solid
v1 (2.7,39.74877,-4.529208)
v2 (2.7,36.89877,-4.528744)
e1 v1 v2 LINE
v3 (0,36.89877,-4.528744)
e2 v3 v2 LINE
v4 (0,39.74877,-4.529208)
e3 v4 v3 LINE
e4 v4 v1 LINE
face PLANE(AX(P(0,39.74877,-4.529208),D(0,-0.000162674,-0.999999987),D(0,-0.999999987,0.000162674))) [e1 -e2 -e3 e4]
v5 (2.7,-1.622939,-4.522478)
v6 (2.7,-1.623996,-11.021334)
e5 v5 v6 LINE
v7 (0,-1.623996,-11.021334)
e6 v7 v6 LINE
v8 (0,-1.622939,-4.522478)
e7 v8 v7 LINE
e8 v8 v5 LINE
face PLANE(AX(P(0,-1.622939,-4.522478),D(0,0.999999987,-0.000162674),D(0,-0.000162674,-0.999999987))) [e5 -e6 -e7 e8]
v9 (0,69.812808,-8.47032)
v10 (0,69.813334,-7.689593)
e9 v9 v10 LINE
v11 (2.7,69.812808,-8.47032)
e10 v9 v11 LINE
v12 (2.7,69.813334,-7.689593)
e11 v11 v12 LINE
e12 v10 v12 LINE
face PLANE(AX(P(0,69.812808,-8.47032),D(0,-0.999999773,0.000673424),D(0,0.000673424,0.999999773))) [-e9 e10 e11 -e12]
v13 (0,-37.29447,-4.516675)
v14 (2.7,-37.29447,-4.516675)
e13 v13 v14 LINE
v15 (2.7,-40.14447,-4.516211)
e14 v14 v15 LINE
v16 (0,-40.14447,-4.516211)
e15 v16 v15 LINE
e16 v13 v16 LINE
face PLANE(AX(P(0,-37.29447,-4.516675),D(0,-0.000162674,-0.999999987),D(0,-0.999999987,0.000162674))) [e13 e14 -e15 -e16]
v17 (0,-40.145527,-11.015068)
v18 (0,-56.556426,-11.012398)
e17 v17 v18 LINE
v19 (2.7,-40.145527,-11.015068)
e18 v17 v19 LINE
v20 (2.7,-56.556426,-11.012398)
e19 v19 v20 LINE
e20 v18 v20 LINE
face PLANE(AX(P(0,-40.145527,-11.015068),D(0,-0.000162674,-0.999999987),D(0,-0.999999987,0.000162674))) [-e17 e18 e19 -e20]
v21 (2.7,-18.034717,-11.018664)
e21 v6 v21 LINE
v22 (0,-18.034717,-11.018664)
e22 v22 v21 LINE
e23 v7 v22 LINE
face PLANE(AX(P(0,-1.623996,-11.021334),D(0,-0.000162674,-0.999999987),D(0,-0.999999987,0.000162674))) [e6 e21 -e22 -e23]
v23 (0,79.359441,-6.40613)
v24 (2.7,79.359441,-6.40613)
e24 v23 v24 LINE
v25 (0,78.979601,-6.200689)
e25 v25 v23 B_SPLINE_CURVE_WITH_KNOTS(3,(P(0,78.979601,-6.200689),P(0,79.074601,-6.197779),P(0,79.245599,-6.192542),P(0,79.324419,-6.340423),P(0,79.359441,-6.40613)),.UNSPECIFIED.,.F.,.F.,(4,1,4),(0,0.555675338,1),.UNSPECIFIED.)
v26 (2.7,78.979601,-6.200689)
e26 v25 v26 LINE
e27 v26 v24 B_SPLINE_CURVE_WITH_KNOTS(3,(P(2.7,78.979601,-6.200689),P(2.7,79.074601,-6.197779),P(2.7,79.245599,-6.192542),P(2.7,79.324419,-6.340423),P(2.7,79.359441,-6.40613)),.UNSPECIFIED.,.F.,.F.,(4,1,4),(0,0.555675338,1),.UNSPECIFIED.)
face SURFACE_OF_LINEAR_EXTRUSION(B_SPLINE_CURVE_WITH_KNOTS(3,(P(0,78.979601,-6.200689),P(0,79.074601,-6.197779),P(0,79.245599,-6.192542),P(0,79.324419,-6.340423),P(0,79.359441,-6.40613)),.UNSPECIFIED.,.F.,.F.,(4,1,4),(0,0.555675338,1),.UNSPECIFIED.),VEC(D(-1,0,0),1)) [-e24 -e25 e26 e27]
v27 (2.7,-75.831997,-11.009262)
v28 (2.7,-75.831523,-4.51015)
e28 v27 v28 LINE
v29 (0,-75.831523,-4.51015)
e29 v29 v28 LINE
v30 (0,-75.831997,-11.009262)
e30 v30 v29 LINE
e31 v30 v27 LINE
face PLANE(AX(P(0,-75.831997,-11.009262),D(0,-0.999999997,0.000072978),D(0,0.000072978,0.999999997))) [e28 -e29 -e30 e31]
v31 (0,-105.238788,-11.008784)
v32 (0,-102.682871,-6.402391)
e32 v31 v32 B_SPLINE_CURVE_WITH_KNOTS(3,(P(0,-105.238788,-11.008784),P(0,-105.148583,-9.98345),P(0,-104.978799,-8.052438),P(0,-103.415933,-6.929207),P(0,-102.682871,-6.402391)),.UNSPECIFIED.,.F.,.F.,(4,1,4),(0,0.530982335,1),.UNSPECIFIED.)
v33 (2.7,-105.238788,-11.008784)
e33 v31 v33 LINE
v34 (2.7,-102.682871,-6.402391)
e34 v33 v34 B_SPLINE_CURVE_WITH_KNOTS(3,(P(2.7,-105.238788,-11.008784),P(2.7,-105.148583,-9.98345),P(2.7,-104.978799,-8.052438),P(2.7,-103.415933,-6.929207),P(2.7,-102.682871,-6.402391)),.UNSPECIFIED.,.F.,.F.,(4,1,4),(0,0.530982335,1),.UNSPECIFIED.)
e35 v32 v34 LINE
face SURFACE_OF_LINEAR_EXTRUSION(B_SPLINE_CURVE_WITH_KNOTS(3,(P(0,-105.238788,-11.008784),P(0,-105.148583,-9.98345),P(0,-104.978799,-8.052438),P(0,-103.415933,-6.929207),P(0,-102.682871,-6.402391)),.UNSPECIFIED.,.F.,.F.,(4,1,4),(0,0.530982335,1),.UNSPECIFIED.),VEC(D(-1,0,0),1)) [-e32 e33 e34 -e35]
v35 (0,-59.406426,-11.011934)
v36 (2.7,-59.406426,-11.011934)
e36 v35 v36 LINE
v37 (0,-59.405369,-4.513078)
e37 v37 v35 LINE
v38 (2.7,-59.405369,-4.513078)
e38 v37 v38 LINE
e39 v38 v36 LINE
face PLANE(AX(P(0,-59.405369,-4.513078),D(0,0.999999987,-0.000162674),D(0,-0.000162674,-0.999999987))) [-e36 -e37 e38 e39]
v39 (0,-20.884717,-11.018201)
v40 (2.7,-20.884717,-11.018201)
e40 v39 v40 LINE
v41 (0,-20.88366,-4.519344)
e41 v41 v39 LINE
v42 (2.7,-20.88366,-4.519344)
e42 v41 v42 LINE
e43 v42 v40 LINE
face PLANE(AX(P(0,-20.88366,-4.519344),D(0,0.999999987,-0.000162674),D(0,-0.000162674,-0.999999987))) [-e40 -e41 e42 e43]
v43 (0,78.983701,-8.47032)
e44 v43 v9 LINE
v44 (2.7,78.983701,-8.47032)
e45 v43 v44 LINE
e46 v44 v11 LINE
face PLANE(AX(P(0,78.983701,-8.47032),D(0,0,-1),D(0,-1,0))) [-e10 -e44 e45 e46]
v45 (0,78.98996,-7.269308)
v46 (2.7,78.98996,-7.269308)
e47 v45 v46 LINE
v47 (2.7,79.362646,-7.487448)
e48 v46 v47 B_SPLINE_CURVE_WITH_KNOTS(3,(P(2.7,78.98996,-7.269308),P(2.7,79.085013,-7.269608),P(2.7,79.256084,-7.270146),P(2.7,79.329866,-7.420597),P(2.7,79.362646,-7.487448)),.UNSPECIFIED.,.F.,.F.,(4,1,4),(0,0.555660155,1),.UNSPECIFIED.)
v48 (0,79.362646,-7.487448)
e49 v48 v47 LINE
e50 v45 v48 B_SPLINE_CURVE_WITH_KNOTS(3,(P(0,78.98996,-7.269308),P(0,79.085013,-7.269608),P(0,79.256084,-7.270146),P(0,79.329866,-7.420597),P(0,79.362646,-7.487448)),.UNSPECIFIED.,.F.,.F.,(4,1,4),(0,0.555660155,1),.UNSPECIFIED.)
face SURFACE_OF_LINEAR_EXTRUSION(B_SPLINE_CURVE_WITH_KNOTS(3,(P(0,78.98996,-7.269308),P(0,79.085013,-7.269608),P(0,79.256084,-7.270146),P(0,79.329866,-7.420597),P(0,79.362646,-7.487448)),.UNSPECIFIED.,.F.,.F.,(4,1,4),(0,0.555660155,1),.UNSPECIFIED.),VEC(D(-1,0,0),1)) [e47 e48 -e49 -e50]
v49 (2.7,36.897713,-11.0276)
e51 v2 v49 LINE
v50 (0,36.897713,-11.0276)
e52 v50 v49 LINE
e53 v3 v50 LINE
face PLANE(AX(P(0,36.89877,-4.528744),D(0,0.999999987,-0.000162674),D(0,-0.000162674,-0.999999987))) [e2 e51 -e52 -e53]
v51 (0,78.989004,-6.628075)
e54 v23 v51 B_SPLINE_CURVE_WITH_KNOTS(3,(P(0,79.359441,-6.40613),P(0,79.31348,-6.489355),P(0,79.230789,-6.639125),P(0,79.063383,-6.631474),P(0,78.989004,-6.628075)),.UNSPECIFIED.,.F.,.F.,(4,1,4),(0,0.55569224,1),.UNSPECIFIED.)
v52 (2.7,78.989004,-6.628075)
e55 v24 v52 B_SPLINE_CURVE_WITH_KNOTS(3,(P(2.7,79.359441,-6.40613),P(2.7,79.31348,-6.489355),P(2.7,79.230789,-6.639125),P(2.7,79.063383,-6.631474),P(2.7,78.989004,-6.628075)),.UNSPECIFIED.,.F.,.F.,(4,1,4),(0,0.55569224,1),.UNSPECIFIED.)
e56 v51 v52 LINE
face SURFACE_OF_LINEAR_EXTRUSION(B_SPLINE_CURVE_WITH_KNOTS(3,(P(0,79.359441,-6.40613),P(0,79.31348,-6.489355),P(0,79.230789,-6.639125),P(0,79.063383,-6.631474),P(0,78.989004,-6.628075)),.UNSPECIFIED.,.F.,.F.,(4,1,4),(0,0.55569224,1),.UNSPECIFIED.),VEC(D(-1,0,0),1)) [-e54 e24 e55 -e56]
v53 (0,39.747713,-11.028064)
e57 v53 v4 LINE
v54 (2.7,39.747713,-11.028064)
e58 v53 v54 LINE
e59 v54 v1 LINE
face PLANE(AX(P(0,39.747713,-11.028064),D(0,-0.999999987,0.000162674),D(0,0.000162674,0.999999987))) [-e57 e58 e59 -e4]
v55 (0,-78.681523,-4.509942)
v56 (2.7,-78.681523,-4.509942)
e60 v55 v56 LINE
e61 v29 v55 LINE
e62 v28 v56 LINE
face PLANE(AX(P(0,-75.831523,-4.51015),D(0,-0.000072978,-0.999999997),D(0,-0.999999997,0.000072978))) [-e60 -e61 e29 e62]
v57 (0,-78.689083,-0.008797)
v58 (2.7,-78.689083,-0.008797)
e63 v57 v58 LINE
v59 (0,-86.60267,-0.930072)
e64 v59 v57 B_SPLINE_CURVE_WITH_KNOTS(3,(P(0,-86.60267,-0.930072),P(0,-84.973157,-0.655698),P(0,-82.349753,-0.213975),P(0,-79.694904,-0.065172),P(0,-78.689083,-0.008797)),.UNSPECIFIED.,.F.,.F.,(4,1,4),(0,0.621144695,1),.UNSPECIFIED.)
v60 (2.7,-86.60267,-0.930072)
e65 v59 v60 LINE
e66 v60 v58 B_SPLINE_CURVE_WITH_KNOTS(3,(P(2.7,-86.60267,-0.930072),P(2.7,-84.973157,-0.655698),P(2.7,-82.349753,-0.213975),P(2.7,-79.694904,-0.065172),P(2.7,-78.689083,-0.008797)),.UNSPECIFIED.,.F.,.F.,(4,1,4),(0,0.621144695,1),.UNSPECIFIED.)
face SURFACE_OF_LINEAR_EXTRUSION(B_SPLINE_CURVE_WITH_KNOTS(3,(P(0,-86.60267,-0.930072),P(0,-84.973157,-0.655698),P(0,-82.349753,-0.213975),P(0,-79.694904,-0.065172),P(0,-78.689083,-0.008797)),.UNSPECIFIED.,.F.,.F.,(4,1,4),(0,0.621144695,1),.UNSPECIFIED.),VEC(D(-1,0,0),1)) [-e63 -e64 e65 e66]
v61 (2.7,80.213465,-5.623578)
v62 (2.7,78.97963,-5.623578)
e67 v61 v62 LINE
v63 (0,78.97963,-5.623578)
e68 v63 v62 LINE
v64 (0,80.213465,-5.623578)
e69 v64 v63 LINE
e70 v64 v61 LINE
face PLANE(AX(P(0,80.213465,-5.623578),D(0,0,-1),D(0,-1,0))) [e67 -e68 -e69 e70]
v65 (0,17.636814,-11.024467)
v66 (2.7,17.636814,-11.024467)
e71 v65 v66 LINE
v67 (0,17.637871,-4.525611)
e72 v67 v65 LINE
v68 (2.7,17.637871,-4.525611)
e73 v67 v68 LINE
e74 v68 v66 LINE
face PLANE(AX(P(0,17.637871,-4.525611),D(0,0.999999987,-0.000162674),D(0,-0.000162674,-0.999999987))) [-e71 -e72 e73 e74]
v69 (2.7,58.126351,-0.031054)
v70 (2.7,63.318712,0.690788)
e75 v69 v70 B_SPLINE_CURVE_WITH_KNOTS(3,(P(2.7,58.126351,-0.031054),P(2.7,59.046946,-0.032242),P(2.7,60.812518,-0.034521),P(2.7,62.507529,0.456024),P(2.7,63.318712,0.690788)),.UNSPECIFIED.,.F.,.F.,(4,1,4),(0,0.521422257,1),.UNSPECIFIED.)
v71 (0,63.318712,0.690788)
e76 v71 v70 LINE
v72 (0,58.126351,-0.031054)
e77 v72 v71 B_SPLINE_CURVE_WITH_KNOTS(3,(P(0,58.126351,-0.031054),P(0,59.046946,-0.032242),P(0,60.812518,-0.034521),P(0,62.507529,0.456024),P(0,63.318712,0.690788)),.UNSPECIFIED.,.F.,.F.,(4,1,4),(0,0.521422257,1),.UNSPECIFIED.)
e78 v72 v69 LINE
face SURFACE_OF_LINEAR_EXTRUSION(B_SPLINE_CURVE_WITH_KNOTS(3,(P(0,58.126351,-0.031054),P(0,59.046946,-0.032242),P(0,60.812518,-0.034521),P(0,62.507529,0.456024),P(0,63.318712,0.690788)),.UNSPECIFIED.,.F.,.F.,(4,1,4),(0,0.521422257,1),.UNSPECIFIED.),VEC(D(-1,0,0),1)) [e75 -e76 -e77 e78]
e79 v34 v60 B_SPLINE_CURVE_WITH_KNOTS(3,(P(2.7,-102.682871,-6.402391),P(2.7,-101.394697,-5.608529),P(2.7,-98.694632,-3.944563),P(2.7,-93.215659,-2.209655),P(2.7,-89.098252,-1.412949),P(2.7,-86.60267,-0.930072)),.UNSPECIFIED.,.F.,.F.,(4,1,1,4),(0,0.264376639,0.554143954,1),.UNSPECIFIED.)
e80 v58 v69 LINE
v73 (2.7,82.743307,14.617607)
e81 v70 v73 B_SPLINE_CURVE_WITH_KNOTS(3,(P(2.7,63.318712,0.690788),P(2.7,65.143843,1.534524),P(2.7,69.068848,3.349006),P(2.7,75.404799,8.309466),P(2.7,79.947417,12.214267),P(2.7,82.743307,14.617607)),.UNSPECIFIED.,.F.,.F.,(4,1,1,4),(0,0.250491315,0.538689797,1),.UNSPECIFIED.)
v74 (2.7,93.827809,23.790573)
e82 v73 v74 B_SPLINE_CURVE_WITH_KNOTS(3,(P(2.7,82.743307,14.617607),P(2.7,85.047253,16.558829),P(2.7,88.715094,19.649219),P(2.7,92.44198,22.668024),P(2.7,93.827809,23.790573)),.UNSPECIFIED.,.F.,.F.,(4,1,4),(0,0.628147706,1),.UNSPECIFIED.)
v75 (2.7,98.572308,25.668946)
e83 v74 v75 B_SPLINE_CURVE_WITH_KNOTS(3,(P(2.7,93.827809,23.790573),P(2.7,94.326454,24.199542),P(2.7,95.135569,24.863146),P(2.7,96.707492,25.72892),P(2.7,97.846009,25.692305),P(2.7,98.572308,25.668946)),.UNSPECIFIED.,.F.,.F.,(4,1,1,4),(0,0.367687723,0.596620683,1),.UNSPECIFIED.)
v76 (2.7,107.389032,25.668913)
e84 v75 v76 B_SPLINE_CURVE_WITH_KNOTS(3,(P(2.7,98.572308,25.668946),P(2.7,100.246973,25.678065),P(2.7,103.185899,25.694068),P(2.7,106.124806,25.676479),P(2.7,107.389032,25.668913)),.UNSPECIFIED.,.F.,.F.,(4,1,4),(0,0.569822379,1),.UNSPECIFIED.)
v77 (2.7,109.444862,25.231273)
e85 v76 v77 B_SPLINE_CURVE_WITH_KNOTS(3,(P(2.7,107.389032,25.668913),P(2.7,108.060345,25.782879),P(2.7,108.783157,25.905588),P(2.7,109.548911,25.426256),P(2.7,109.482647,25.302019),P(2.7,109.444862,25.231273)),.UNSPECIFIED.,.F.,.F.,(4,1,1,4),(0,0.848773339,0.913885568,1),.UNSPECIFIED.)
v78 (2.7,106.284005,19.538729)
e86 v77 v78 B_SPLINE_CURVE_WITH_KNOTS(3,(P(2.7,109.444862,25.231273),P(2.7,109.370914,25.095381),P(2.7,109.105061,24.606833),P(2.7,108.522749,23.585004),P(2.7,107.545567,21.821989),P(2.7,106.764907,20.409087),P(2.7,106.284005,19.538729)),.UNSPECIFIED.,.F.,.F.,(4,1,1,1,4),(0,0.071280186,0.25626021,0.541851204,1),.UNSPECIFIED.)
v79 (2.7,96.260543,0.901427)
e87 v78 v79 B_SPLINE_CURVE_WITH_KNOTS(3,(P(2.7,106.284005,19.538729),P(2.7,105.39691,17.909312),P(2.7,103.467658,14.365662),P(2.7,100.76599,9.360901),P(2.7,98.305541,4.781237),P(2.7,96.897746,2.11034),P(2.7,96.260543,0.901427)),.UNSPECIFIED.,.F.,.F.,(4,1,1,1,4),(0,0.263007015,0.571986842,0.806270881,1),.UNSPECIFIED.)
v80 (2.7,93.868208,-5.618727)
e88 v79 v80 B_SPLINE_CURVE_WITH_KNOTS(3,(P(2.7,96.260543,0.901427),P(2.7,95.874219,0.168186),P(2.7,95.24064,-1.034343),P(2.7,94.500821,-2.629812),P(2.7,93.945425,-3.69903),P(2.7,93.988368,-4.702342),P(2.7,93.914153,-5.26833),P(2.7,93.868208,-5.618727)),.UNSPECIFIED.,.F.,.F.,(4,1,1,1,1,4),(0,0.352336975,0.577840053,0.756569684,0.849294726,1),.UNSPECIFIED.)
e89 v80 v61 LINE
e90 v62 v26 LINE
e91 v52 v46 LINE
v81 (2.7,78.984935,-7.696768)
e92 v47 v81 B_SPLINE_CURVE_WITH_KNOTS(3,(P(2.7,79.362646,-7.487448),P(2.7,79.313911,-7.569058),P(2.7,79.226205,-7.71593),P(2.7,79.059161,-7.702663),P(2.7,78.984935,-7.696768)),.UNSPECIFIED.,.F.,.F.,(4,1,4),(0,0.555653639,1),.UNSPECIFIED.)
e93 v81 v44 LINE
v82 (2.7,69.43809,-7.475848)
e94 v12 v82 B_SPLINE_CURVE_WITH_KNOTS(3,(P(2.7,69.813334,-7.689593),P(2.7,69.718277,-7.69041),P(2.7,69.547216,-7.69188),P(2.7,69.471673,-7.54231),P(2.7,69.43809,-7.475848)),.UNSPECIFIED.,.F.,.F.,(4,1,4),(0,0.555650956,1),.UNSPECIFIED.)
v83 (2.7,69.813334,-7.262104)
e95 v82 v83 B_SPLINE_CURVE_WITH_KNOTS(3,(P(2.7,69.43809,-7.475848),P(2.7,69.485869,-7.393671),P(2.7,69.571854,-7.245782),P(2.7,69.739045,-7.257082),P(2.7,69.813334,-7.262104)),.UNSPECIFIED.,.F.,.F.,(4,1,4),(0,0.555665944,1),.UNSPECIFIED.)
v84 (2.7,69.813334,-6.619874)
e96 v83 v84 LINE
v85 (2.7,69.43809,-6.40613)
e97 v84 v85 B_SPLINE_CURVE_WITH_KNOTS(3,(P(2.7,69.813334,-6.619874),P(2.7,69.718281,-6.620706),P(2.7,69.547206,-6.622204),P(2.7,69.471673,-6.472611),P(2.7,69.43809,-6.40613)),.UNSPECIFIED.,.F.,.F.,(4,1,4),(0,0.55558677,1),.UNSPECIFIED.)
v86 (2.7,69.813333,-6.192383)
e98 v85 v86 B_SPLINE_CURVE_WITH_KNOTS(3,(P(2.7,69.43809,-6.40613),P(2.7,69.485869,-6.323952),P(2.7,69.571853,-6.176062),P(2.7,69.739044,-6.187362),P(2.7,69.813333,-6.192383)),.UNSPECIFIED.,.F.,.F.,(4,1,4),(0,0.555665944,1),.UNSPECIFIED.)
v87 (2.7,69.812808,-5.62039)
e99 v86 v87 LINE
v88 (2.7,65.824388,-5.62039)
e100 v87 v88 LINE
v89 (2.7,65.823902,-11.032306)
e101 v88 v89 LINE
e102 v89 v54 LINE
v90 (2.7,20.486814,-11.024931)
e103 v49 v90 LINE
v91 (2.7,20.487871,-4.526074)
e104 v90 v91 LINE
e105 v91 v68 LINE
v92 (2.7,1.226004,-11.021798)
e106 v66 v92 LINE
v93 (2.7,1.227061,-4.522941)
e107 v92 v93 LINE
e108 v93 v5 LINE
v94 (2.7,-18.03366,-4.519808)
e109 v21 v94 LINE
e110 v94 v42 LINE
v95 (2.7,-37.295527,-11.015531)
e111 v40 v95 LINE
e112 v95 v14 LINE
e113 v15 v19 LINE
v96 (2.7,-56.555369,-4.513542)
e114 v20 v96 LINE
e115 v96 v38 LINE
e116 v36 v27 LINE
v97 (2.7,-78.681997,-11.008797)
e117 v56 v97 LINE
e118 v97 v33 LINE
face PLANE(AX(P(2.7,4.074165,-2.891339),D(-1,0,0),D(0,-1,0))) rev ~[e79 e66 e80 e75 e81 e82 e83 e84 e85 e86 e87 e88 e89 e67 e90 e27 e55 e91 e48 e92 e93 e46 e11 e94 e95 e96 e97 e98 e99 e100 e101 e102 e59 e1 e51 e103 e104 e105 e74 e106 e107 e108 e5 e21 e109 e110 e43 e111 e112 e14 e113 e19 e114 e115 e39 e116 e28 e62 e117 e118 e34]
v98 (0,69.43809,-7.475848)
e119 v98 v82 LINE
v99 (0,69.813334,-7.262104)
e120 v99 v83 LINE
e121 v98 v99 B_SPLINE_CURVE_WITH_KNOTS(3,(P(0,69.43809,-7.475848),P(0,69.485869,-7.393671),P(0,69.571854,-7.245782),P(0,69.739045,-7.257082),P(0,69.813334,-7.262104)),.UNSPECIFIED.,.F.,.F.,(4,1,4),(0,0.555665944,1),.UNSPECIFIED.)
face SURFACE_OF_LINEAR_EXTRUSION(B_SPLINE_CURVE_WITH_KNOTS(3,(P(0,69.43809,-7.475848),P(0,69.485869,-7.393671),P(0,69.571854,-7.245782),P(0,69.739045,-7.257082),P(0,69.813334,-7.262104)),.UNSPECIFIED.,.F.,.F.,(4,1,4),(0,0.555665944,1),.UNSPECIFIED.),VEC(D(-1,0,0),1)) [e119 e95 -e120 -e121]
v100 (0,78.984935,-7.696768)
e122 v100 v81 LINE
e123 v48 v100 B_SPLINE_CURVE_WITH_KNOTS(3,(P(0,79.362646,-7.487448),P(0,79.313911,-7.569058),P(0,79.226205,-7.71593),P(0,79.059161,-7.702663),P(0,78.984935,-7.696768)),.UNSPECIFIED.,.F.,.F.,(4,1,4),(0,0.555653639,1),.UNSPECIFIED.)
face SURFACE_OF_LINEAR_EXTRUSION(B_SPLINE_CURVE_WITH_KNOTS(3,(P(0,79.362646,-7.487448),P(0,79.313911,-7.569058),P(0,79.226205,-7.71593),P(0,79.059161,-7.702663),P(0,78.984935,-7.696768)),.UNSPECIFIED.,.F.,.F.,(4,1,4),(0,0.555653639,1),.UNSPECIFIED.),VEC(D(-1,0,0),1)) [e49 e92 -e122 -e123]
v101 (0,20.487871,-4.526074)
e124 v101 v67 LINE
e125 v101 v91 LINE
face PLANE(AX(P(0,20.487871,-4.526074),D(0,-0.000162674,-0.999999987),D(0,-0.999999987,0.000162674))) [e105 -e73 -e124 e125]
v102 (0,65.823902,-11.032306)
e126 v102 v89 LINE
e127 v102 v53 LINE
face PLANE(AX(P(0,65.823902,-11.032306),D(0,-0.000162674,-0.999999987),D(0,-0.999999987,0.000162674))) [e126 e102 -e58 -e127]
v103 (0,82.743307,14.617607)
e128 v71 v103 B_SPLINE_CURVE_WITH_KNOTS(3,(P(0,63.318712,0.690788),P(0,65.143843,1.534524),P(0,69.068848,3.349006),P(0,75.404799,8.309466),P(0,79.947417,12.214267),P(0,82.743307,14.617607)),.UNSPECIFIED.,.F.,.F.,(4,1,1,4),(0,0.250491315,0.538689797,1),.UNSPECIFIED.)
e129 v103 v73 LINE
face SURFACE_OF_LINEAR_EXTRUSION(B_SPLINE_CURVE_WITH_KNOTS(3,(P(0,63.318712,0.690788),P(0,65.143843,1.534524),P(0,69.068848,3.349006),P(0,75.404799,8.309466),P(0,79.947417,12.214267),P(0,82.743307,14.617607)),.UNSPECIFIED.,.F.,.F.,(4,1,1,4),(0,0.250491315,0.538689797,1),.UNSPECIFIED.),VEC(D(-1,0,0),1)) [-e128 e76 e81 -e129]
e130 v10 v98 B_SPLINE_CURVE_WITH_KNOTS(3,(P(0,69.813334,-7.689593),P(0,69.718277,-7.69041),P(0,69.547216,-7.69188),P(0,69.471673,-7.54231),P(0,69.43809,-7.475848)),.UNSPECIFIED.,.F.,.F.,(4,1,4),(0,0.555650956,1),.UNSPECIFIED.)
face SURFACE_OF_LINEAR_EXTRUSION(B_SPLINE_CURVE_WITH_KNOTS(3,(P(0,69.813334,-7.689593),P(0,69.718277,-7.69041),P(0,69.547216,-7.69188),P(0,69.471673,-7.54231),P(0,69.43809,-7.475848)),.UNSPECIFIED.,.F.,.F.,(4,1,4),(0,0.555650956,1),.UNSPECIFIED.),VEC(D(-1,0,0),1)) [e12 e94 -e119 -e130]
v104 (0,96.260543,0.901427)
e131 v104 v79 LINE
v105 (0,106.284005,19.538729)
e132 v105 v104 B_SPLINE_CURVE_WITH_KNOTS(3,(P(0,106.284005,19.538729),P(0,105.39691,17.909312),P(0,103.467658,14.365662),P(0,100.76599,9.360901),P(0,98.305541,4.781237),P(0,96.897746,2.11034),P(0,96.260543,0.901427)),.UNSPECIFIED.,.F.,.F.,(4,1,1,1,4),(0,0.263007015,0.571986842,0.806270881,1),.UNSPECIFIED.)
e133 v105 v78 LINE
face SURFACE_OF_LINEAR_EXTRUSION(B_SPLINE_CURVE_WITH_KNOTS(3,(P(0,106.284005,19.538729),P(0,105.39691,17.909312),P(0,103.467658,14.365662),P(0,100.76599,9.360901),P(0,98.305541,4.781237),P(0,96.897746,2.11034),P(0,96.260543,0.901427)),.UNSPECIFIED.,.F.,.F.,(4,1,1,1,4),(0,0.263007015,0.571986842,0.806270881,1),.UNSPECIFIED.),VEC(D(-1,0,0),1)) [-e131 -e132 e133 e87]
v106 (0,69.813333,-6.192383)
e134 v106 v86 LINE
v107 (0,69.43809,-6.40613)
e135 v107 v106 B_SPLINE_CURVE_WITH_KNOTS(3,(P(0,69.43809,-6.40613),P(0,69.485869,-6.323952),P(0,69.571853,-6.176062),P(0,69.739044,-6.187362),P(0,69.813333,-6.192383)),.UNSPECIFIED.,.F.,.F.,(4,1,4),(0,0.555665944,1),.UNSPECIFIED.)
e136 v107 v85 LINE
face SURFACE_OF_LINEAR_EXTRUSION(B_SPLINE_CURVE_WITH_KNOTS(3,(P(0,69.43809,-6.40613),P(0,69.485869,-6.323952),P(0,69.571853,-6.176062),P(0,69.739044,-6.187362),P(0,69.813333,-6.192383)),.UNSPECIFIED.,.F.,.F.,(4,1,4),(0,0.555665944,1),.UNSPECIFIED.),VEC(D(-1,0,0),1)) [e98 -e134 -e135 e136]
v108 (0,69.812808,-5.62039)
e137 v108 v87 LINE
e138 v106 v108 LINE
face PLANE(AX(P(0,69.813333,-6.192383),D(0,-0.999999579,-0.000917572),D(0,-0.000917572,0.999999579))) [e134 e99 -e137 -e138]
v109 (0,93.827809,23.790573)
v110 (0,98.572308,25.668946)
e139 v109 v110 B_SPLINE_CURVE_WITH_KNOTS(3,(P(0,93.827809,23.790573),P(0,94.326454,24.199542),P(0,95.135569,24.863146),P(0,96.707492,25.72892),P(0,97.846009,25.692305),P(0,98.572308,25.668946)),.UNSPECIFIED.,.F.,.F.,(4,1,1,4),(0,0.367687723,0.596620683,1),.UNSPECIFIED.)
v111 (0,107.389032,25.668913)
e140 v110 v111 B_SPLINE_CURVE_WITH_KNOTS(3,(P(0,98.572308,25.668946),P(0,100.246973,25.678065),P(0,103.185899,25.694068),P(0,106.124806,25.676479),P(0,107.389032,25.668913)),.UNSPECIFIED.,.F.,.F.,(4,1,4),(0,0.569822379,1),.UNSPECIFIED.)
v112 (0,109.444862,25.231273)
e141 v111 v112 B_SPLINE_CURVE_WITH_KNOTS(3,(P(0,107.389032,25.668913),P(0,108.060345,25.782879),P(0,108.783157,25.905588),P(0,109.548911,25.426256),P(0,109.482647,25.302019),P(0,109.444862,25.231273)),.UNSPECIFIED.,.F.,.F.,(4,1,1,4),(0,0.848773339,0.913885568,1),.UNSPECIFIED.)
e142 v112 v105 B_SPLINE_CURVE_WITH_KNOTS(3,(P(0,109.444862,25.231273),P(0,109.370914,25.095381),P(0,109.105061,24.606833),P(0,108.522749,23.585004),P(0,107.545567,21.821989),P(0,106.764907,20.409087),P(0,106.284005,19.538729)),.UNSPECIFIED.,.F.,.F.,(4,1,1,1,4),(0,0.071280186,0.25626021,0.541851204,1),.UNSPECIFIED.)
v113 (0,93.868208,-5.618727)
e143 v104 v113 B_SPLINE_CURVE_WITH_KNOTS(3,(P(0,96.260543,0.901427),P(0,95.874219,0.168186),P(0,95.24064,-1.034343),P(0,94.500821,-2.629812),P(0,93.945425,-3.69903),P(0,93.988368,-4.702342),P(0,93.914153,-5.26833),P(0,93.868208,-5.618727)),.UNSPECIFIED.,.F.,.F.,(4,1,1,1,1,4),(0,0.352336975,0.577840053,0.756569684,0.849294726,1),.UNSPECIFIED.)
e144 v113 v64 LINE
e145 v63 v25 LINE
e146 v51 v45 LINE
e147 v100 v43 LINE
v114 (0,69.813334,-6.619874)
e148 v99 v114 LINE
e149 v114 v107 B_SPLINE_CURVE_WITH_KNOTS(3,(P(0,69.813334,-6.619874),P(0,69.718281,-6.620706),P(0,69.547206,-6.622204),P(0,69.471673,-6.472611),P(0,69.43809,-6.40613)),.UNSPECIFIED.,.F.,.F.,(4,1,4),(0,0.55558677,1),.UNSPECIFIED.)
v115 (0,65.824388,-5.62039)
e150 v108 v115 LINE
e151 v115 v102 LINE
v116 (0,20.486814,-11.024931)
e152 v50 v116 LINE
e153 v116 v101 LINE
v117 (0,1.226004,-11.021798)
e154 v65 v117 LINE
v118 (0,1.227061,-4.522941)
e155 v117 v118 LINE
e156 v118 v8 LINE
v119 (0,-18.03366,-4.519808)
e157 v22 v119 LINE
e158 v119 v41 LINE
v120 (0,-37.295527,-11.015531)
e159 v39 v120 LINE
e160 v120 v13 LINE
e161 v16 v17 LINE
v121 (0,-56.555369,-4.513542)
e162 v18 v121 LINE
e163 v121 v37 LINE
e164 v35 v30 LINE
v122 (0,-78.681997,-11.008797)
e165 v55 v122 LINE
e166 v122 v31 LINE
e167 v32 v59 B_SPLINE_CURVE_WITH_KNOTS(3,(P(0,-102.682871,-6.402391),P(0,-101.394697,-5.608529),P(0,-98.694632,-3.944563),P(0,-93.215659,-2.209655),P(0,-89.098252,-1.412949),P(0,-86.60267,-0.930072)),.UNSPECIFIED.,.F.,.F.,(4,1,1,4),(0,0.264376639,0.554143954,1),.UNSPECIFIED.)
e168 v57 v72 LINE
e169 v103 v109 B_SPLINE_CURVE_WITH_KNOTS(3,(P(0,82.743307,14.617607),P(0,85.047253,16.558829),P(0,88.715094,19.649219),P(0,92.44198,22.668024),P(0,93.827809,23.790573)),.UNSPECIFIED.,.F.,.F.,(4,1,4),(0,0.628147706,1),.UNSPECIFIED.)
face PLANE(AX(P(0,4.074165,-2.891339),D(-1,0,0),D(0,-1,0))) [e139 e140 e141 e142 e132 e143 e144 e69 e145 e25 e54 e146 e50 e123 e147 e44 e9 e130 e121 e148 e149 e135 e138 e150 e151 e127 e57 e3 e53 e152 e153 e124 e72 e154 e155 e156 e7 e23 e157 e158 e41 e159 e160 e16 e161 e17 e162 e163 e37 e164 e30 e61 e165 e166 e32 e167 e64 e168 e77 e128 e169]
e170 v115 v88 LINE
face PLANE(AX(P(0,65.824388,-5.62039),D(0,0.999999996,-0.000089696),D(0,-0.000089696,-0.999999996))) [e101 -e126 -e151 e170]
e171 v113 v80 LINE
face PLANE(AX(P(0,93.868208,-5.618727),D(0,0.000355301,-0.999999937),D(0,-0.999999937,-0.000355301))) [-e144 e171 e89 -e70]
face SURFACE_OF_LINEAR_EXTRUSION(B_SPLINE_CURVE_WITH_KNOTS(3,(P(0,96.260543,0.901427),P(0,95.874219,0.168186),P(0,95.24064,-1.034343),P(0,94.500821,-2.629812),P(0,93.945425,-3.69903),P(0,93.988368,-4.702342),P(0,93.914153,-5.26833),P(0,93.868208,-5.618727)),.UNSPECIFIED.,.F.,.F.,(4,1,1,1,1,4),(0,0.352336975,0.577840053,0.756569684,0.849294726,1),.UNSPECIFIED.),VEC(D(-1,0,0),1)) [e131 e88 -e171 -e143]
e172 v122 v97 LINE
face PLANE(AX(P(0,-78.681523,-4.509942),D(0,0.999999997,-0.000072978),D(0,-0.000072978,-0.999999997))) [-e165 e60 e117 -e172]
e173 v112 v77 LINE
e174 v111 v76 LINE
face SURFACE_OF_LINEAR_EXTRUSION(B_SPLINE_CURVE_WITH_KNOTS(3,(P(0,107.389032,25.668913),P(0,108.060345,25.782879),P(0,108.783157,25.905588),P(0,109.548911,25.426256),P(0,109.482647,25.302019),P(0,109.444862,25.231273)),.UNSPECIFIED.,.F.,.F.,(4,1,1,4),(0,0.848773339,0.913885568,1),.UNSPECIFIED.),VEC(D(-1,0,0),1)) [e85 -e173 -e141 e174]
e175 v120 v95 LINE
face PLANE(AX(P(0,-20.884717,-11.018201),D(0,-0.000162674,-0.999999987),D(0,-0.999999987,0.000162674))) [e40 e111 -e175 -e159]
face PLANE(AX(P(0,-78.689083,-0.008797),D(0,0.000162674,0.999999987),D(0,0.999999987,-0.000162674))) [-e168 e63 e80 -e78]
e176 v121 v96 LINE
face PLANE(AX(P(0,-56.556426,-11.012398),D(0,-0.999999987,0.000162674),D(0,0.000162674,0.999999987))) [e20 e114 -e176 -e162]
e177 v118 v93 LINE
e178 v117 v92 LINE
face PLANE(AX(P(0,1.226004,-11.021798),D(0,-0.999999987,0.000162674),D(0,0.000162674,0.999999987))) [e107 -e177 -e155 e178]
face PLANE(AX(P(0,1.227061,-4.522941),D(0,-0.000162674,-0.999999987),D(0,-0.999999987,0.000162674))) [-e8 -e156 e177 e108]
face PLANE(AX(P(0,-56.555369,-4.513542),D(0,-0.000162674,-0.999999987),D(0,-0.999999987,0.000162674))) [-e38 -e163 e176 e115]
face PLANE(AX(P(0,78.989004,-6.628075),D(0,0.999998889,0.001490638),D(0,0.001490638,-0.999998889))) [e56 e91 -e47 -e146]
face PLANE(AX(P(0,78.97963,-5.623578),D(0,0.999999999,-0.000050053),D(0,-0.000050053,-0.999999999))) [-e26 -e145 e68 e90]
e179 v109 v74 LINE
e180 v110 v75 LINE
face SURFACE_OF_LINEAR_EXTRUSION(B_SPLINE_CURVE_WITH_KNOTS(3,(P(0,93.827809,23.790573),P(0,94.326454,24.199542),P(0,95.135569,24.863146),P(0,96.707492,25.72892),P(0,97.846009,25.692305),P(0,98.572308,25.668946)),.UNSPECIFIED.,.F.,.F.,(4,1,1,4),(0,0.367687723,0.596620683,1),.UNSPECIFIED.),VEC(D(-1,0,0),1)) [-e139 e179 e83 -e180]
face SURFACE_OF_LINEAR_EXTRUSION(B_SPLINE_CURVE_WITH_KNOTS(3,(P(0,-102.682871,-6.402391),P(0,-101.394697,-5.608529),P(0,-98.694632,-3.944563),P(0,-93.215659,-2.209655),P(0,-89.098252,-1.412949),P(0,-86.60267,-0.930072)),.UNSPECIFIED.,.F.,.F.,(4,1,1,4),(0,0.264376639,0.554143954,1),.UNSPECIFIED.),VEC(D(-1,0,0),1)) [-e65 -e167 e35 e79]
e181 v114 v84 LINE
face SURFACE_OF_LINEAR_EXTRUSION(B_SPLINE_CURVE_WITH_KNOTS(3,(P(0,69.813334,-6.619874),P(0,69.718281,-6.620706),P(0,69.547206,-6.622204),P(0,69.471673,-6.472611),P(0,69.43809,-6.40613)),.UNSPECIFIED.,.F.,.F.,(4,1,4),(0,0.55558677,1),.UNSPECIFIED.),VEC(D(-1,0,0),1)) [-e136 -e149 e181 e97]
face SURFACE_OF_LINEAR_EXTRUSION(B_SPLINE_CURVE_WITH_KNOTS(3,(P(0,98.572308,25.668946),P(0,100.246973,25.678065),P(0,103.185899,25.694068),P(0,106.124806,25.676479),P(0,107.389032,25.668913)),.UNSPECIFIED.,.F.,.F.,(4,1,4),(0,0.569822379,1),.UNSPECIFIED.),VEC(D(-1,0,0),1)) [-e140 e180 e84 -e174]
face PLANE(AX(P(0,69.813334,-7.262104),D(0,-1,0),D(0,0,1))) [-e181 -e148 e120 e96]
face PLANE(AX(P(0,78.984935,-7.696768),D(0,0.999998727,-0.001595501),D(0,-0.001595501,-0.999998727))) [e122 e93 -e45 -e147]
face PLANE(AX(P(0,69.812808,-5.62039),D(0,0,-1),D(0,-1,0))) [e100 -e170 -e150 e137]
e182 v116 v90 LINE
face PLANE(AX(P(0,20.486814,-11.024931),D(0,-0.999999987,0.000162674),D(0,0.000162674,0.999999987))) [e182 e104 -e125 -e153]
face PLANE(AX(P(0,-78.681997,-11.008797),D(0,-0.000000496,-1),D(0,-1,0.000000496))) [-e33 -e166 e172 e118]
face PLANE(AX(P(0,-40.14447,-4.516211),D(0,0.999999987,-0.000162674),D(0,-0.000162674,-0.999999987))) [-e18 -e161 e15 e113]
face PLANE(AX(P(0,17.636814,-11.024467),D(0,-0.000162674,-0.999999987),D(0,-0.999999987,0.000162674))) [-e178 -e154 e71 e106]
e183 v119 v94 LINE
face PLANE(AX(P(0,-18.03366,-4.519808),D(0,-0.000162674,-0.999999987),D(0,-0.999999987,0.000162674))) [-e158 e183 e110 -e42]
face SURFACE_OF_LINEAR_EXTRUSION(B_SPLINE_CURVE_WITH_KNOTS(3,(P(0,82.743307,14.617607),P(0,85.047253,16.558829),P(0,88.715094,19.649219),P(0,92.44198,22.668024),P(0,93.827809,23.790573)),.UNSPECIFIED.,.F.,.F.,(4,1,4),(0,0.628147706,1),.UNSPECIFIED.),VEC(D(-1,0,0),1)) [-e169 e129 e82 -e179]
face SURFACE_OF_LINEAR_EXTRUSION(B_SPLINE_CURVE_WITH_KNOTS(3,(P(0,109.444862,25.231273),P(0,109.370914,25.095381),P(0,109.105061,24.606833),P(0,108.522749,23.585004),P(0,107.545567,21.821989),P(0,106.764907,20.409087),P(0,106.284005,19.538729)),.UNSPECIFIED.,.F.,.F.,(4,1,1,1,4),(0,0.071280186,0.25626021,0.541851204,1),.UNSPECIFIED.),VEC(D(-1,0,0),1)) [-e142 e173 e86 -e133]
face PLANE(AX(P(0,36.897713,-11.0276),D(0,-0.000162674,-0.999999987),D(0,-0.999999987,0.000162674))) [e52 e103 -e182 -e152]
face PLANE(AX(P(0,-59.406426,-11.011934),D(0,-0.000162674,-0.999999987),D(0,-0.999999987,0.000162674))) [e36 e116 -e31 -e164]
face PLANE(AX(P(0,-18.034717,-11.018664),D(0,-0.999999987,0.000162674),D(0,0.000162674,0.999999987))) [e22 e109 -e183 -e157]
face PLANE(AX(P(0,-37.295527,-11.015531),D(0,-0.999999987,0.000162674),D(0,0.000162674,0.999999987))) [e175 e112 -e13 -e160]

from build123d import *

# Parameters (mm, degrees)
SALIENTE_EXTRUIR1_DEPTH = 2.7


with BuildPart() as part:
    # Croquis1 → Saliente-Extruir1 (new body)
    with BuildSketch(Plane.YZ):
        with BuildLine():
            Line((69.812808286, -8.470319532), (69.813334046, -7.689593095))
            add(Edge.make_bspline(
                [(69.813334046, -7.689593095), (69.718277432, -7.690410058), (69.547216021, -7.691880338), (69.471672568, -7.54230989), (69.43809002, -7.475848405)],
                knots=[0, 0, 0, 0, 0.555650956, 1, 1, 1, 1], degree=3))
            add(Edge.make_bspline(
                [(69.43809002, -7.475848405), (69.485868998, -7.393671243), (69.571854074, -7.245781736), (69.739045293, -7.257082431), (69.813334046, -7.262103715)],
                knots=[0, 0, 0, 0, 0.555665944, 1, 1, 1, 1], degree=3))
            Line((69.813334046, -7.262103715), (69.813334046, -6.619874205))
            add(Edge.make_bspline(
                [(69.813334046, -6.619874205), (69.718281004, -6.62070628), (69.547206259, -6.62220393), (69.471672921, -6.472610717), (69.43809002, -6.406129515)],
                knots=[0, 0, 0, 0, 0.55558677, 1, 1, 1, 1], degree=3))
            add(Edge.make_bspline(
                [(69.43809002, -6.406129515), (69.485868647, -6.323952148), (69.571853089, -6.176062273), (69.739044357, -6.187362253), (69.813333131, -6.192383218)],
                knots=[0, 0, 0, 0, 0.555665944, 1, 1, 1, 1], degree=3))
            Line((69.813333131, -6.192383218), (69.812808286, -5.620390327))
            Line((69.812808286, -5.620390327), (65.824387706, -5.620390327))
            Line((65.824387706, -5.620390327), (65.823902281, -11.032305972))
            Line((65.823902281, -11.032305972), (39.747713095, -11.02806406))
            Line((39.747713095, -11.02806406), (39.748770289, -4.529207726))
            Line((39.748770289, -4.529207726), (36.898770326, -4.528744106))
            Line((36.898770326, -4.528744106), (36.897713133, -11.02760044))
            Line((36.897713133, -11.02760044), (20.486813862, -11.024930817))
            Line((20.486813862, -11.024930817), (20.487871055, -4.526074483))
            Line((20.487871055, -4.526074483), (17.637871093, -4.525610863))
            Line((17.637871093, -4.525610863), (17.636813899, -11.024467197))
            Line((17.636813899, -11.024467197), (1.226003887, -11.021797589))
            Line((1.226003887, -11.021797589), (1.22706108, -4.522941255))
            Line((1.22706108, -4.522941255), (-1.622938882, -4.522477635))
            Line((-1.622938882, -4.522477635), (-1.623996075, -11.021333969))
            Line((-1.623996075, -11.021333969), (-18.034716829, -11.018664376))
            Line((-18.034716829, -11.018664376), (-18.033659636, -4.519808041))
            Line((-18.033659636, -4.519808041), (-20.883659598, -4.519344421))
            Line((-20.883659598, -4.519344421), (-20.884716791, -11.018200756))
            Line((-20.884716791, -11.018200756), (-37.295526804, -11.015531148))
            Line((-37.295526804, -11.015531148), (-37.29446961, -4.516674813))
            Line((-37.29446961, -4.516674813), (-40.144469572, -4.516211193))
            Line((-40.144469572, -4.516211193), (-40.145526766, -11.015067527))
            Line((-40.145526766, -11.015067527), (-56.556426037, -11.012397905))
            Line((-56.556426037, -11.012397905), (-56.555368844, -4.51354157))
            Line((-56.555368844, -4.51354157), (-59.405368806, -4.51307795))
            Line((-59.405368806, -4.51307795), (-59.406426, -11.011934285))
            Line((-59.406426, -11.011934285), (-75.831996924, -11.009262276))
            Line((-75.831996924, -11.009262276), (-75.83152263, -4.510149615))
            Line((-75.83152263, -4.510149615), (-78.681522622, -4.509941627))
            Line((-78.681522622, -4.509941627), (-78.681996897, -11.008797361))
            Line((-78.681996897, -11.008797361), (-105.238788458, -11.008784177))
            add(Edge.make_bspline(
                [(-105.238788458, -11.008784177), (-105.14858271, -9.983450496), (-104.978798579, -8.052437708), (-103.415932971, -6.929206638), (-102.682870886, -6.402391424)],
                knots=[0, 0, 0, 0, 0.530982335, 1, 1, 1, 1], degree=3))
            add(Edge.make_bspline(
                [(-102.682870886, -6.402391424), (-101.394696585, -5.608529448), (-98.694632001, -3.944563162), (-93.215658737, -2.20965482), (-89.098251838, -1.412949472), (-86.602670214, -0.930072072)],
                knots=[0, 0, 0, 0, 0.264376639, 0.554143954, 1, 1, 1, 1], degree=3))
            add(Edge.make_bspline(
                [(-86.602670214, -0.930072072), (-84.973156703, -0.655698226), (-82.349752651, -0.213975311), (-79.694903541, -0.065172296), (-78.68908292, -0.008797357)],
                knots=[0, 0, 0, 0, 0.621144695, 1, 1, 1, 1], degree=3))
            Line((-78.68908292, -0.008797357), (58.126350502, -0.031053636))
            add(Edge.make_bspline(
                [(58.126350502, -0.031053636), (59.046945941, -0.03224198), (60.812517807, -0.034520976), (62.507529104, 0.456023838), (63.318712092, 0.690787646)],
                knots=[0, 0, 0, 0, 0.521422257, 1, 1, 1, 1], degree=3))
            add(Edge.make_bspline(
                [(63.318712092, 0.690787646), (65.143843319, 1.534523648), (69.06884794, 3.349005621), (75.404798534, 8.3094659), (79.947417099, 12.214266662), (82.743307297, 14.617606967)],
                knots=[0, 0, 0, 0, 0.250491315, 0.538689797, 1, 1, 1, 1], degree=3))
            add(Edge.make_bspline(
                [(82.743307297, 14.617606967), (85.047253105, 16.558828686), (88.71509394, 19.64921921), (92.441979531, 22.668023582), (93.827809061, 23.790572912)],
                knots=[0, 0, 0, 0, 0.628147706, 1, 1, 1, 1], degree=3))
            add(Edge.make_bspline(
                [(93.827809061, 23.790572912), (94.326453815, 24.199541627), (95.135569145, 24.863146035), (96.707492067, 25.728920147), (97.846009019, 25.692304846), (98.572307919, 25.668946364)],
                knots=[0, 0, 0, 0, 0.367687723, 0.596620683, 1, 1, 1, 1], degree=3))
            add(Edge.make_bspline(
                [(98.572307919, 25.668946364), (100.246973397, 25.678065075), (103.185898824, 25.694067802), (106.124806248, 25.676478931), (107.389032296, 25.668912593)],
                knots=[0, 0, 0, 0, 0.569822379, 1, 1, 1, 1], degree=3))
            add(Edge.make_bspline(
                [(107.389032296, 25.668912593), (108.060345413, 25.782878894), (108.783157194, 25.905587929), (109.548911413, 25.42625634), (109.482646974, 25.30201883), (109.444862485, 25.231273086)],
                knots=[0, 0, 0, 0, 0.848773339, 0.913885568, 1, 1, 1, 1], degree=3))
            add(Edge.make_bspline(
                [(109.444862485, 25.231273086), (109.370914057, 25.095380771), (109.105061218, 24.606832759), (108.522748832, 23.585003774), (107.54556697, 21.821989367), (106.764907477, 20.409086507), (106.284004774, 19.538728729)],
                knots=[0, 0, 0, 0, 0.071280186, 0.25626021, 0.541851204, 1, 1, 1, 1], degree=3))
            add(Edge.make_bspline(
                [(106.284004774, 19.538728729), (105.396909739, 17.909312095), (103.467658207, 14.365661847), (100.765990032, 9.360901344), (98.30554125, 4.781237125), (96.897745784, 2.110339814), (96.260543385, 0.901427017)],
                knots=[0, 0, 0, 0, 0.263007015, 0.571986842, 0.806270881, 1, 1, 1, 1], degree=3))
            add(Edge.make_bspline(
                [(96.260543385, 0.901427017), (95.874219388, 0.16818648), (95.240639904, -1.034343432), (94.500820955, -2.629812191), (93.945424943, -3.699029848), (93.988367719, -4.702342381), (93.914153339, -5.268329777), (93.868207957, -5.618726914)],
                knots=[0, 0, 0, 0, 0.352336975, 0.577840053, 0.756569684, 0.849294726, 1, 1, 1, 1], degree=3))
            Line((93.868207957, -5.618726914), (80.21346475, -5.623578454))
            Line((80.21346475, -5.623578454), (78.979630239, -5.623578454))
            Line((78.979630239, -5.623578454), (78.979601353, -6.200689117))
            add(Edge.make_bspline(
                [(78.979601353, -6.200689117), (79.074601125, -6.197779206), (79.245599405, -6.192542495), (79.324419315, -6.340422695), (79.359440945, -6.406129515)],
                knots=[0, 0, 0, 0, 0.555675338, 1, 1, 1, 1], degree=3))
            add(Edge.make_bspline(
                [(79.359440945, -6.406129515), (79.313479796, -6.48935539), (79.230789249, -6.639125118), (79.063383476, -6.631474374), (78.989003792, -6.628075089)],
                knots=[0, 0, 0, 0, 0.55569224, 1, 1, 1, 1], degree=3))
            Line((78.989003792, -6.628075089), (78.98995964, -7.269308448))
            add(Edge.make_bspline(
                [(78.98995964, -7.269308448), (79.085013314, -7.269607654), (79.256084268, -7.270146125), (79.329866383, -7.420596942), (79.36264575, -7.487448234)],
                knots=[0, 0, 0, 0, 0.555660155, 1, 1, 1, 1], degree=3))
            add(Edge.make_bspline(
                [(79.36264575, -7.487448234), (79.313911322, -7.569057991), (79.226204836, -7.715929624), (79.05916077, -7.702663194), (78.984935347, -7.696768304)],
                knots=[0, 0, 0, 0, 0.555653639, 1, 1, 1, 1], degree=3))
            Line((78.984935347, -7.696768304), (78.983701144, -8.470319532))
            Line((78.983701144, -8.470319532), (69.812808286, -8.470319532))
        make_face()
    extrude(amount=SALIENTE_EXTRUIR1_DEPTH)


solid = part.part
